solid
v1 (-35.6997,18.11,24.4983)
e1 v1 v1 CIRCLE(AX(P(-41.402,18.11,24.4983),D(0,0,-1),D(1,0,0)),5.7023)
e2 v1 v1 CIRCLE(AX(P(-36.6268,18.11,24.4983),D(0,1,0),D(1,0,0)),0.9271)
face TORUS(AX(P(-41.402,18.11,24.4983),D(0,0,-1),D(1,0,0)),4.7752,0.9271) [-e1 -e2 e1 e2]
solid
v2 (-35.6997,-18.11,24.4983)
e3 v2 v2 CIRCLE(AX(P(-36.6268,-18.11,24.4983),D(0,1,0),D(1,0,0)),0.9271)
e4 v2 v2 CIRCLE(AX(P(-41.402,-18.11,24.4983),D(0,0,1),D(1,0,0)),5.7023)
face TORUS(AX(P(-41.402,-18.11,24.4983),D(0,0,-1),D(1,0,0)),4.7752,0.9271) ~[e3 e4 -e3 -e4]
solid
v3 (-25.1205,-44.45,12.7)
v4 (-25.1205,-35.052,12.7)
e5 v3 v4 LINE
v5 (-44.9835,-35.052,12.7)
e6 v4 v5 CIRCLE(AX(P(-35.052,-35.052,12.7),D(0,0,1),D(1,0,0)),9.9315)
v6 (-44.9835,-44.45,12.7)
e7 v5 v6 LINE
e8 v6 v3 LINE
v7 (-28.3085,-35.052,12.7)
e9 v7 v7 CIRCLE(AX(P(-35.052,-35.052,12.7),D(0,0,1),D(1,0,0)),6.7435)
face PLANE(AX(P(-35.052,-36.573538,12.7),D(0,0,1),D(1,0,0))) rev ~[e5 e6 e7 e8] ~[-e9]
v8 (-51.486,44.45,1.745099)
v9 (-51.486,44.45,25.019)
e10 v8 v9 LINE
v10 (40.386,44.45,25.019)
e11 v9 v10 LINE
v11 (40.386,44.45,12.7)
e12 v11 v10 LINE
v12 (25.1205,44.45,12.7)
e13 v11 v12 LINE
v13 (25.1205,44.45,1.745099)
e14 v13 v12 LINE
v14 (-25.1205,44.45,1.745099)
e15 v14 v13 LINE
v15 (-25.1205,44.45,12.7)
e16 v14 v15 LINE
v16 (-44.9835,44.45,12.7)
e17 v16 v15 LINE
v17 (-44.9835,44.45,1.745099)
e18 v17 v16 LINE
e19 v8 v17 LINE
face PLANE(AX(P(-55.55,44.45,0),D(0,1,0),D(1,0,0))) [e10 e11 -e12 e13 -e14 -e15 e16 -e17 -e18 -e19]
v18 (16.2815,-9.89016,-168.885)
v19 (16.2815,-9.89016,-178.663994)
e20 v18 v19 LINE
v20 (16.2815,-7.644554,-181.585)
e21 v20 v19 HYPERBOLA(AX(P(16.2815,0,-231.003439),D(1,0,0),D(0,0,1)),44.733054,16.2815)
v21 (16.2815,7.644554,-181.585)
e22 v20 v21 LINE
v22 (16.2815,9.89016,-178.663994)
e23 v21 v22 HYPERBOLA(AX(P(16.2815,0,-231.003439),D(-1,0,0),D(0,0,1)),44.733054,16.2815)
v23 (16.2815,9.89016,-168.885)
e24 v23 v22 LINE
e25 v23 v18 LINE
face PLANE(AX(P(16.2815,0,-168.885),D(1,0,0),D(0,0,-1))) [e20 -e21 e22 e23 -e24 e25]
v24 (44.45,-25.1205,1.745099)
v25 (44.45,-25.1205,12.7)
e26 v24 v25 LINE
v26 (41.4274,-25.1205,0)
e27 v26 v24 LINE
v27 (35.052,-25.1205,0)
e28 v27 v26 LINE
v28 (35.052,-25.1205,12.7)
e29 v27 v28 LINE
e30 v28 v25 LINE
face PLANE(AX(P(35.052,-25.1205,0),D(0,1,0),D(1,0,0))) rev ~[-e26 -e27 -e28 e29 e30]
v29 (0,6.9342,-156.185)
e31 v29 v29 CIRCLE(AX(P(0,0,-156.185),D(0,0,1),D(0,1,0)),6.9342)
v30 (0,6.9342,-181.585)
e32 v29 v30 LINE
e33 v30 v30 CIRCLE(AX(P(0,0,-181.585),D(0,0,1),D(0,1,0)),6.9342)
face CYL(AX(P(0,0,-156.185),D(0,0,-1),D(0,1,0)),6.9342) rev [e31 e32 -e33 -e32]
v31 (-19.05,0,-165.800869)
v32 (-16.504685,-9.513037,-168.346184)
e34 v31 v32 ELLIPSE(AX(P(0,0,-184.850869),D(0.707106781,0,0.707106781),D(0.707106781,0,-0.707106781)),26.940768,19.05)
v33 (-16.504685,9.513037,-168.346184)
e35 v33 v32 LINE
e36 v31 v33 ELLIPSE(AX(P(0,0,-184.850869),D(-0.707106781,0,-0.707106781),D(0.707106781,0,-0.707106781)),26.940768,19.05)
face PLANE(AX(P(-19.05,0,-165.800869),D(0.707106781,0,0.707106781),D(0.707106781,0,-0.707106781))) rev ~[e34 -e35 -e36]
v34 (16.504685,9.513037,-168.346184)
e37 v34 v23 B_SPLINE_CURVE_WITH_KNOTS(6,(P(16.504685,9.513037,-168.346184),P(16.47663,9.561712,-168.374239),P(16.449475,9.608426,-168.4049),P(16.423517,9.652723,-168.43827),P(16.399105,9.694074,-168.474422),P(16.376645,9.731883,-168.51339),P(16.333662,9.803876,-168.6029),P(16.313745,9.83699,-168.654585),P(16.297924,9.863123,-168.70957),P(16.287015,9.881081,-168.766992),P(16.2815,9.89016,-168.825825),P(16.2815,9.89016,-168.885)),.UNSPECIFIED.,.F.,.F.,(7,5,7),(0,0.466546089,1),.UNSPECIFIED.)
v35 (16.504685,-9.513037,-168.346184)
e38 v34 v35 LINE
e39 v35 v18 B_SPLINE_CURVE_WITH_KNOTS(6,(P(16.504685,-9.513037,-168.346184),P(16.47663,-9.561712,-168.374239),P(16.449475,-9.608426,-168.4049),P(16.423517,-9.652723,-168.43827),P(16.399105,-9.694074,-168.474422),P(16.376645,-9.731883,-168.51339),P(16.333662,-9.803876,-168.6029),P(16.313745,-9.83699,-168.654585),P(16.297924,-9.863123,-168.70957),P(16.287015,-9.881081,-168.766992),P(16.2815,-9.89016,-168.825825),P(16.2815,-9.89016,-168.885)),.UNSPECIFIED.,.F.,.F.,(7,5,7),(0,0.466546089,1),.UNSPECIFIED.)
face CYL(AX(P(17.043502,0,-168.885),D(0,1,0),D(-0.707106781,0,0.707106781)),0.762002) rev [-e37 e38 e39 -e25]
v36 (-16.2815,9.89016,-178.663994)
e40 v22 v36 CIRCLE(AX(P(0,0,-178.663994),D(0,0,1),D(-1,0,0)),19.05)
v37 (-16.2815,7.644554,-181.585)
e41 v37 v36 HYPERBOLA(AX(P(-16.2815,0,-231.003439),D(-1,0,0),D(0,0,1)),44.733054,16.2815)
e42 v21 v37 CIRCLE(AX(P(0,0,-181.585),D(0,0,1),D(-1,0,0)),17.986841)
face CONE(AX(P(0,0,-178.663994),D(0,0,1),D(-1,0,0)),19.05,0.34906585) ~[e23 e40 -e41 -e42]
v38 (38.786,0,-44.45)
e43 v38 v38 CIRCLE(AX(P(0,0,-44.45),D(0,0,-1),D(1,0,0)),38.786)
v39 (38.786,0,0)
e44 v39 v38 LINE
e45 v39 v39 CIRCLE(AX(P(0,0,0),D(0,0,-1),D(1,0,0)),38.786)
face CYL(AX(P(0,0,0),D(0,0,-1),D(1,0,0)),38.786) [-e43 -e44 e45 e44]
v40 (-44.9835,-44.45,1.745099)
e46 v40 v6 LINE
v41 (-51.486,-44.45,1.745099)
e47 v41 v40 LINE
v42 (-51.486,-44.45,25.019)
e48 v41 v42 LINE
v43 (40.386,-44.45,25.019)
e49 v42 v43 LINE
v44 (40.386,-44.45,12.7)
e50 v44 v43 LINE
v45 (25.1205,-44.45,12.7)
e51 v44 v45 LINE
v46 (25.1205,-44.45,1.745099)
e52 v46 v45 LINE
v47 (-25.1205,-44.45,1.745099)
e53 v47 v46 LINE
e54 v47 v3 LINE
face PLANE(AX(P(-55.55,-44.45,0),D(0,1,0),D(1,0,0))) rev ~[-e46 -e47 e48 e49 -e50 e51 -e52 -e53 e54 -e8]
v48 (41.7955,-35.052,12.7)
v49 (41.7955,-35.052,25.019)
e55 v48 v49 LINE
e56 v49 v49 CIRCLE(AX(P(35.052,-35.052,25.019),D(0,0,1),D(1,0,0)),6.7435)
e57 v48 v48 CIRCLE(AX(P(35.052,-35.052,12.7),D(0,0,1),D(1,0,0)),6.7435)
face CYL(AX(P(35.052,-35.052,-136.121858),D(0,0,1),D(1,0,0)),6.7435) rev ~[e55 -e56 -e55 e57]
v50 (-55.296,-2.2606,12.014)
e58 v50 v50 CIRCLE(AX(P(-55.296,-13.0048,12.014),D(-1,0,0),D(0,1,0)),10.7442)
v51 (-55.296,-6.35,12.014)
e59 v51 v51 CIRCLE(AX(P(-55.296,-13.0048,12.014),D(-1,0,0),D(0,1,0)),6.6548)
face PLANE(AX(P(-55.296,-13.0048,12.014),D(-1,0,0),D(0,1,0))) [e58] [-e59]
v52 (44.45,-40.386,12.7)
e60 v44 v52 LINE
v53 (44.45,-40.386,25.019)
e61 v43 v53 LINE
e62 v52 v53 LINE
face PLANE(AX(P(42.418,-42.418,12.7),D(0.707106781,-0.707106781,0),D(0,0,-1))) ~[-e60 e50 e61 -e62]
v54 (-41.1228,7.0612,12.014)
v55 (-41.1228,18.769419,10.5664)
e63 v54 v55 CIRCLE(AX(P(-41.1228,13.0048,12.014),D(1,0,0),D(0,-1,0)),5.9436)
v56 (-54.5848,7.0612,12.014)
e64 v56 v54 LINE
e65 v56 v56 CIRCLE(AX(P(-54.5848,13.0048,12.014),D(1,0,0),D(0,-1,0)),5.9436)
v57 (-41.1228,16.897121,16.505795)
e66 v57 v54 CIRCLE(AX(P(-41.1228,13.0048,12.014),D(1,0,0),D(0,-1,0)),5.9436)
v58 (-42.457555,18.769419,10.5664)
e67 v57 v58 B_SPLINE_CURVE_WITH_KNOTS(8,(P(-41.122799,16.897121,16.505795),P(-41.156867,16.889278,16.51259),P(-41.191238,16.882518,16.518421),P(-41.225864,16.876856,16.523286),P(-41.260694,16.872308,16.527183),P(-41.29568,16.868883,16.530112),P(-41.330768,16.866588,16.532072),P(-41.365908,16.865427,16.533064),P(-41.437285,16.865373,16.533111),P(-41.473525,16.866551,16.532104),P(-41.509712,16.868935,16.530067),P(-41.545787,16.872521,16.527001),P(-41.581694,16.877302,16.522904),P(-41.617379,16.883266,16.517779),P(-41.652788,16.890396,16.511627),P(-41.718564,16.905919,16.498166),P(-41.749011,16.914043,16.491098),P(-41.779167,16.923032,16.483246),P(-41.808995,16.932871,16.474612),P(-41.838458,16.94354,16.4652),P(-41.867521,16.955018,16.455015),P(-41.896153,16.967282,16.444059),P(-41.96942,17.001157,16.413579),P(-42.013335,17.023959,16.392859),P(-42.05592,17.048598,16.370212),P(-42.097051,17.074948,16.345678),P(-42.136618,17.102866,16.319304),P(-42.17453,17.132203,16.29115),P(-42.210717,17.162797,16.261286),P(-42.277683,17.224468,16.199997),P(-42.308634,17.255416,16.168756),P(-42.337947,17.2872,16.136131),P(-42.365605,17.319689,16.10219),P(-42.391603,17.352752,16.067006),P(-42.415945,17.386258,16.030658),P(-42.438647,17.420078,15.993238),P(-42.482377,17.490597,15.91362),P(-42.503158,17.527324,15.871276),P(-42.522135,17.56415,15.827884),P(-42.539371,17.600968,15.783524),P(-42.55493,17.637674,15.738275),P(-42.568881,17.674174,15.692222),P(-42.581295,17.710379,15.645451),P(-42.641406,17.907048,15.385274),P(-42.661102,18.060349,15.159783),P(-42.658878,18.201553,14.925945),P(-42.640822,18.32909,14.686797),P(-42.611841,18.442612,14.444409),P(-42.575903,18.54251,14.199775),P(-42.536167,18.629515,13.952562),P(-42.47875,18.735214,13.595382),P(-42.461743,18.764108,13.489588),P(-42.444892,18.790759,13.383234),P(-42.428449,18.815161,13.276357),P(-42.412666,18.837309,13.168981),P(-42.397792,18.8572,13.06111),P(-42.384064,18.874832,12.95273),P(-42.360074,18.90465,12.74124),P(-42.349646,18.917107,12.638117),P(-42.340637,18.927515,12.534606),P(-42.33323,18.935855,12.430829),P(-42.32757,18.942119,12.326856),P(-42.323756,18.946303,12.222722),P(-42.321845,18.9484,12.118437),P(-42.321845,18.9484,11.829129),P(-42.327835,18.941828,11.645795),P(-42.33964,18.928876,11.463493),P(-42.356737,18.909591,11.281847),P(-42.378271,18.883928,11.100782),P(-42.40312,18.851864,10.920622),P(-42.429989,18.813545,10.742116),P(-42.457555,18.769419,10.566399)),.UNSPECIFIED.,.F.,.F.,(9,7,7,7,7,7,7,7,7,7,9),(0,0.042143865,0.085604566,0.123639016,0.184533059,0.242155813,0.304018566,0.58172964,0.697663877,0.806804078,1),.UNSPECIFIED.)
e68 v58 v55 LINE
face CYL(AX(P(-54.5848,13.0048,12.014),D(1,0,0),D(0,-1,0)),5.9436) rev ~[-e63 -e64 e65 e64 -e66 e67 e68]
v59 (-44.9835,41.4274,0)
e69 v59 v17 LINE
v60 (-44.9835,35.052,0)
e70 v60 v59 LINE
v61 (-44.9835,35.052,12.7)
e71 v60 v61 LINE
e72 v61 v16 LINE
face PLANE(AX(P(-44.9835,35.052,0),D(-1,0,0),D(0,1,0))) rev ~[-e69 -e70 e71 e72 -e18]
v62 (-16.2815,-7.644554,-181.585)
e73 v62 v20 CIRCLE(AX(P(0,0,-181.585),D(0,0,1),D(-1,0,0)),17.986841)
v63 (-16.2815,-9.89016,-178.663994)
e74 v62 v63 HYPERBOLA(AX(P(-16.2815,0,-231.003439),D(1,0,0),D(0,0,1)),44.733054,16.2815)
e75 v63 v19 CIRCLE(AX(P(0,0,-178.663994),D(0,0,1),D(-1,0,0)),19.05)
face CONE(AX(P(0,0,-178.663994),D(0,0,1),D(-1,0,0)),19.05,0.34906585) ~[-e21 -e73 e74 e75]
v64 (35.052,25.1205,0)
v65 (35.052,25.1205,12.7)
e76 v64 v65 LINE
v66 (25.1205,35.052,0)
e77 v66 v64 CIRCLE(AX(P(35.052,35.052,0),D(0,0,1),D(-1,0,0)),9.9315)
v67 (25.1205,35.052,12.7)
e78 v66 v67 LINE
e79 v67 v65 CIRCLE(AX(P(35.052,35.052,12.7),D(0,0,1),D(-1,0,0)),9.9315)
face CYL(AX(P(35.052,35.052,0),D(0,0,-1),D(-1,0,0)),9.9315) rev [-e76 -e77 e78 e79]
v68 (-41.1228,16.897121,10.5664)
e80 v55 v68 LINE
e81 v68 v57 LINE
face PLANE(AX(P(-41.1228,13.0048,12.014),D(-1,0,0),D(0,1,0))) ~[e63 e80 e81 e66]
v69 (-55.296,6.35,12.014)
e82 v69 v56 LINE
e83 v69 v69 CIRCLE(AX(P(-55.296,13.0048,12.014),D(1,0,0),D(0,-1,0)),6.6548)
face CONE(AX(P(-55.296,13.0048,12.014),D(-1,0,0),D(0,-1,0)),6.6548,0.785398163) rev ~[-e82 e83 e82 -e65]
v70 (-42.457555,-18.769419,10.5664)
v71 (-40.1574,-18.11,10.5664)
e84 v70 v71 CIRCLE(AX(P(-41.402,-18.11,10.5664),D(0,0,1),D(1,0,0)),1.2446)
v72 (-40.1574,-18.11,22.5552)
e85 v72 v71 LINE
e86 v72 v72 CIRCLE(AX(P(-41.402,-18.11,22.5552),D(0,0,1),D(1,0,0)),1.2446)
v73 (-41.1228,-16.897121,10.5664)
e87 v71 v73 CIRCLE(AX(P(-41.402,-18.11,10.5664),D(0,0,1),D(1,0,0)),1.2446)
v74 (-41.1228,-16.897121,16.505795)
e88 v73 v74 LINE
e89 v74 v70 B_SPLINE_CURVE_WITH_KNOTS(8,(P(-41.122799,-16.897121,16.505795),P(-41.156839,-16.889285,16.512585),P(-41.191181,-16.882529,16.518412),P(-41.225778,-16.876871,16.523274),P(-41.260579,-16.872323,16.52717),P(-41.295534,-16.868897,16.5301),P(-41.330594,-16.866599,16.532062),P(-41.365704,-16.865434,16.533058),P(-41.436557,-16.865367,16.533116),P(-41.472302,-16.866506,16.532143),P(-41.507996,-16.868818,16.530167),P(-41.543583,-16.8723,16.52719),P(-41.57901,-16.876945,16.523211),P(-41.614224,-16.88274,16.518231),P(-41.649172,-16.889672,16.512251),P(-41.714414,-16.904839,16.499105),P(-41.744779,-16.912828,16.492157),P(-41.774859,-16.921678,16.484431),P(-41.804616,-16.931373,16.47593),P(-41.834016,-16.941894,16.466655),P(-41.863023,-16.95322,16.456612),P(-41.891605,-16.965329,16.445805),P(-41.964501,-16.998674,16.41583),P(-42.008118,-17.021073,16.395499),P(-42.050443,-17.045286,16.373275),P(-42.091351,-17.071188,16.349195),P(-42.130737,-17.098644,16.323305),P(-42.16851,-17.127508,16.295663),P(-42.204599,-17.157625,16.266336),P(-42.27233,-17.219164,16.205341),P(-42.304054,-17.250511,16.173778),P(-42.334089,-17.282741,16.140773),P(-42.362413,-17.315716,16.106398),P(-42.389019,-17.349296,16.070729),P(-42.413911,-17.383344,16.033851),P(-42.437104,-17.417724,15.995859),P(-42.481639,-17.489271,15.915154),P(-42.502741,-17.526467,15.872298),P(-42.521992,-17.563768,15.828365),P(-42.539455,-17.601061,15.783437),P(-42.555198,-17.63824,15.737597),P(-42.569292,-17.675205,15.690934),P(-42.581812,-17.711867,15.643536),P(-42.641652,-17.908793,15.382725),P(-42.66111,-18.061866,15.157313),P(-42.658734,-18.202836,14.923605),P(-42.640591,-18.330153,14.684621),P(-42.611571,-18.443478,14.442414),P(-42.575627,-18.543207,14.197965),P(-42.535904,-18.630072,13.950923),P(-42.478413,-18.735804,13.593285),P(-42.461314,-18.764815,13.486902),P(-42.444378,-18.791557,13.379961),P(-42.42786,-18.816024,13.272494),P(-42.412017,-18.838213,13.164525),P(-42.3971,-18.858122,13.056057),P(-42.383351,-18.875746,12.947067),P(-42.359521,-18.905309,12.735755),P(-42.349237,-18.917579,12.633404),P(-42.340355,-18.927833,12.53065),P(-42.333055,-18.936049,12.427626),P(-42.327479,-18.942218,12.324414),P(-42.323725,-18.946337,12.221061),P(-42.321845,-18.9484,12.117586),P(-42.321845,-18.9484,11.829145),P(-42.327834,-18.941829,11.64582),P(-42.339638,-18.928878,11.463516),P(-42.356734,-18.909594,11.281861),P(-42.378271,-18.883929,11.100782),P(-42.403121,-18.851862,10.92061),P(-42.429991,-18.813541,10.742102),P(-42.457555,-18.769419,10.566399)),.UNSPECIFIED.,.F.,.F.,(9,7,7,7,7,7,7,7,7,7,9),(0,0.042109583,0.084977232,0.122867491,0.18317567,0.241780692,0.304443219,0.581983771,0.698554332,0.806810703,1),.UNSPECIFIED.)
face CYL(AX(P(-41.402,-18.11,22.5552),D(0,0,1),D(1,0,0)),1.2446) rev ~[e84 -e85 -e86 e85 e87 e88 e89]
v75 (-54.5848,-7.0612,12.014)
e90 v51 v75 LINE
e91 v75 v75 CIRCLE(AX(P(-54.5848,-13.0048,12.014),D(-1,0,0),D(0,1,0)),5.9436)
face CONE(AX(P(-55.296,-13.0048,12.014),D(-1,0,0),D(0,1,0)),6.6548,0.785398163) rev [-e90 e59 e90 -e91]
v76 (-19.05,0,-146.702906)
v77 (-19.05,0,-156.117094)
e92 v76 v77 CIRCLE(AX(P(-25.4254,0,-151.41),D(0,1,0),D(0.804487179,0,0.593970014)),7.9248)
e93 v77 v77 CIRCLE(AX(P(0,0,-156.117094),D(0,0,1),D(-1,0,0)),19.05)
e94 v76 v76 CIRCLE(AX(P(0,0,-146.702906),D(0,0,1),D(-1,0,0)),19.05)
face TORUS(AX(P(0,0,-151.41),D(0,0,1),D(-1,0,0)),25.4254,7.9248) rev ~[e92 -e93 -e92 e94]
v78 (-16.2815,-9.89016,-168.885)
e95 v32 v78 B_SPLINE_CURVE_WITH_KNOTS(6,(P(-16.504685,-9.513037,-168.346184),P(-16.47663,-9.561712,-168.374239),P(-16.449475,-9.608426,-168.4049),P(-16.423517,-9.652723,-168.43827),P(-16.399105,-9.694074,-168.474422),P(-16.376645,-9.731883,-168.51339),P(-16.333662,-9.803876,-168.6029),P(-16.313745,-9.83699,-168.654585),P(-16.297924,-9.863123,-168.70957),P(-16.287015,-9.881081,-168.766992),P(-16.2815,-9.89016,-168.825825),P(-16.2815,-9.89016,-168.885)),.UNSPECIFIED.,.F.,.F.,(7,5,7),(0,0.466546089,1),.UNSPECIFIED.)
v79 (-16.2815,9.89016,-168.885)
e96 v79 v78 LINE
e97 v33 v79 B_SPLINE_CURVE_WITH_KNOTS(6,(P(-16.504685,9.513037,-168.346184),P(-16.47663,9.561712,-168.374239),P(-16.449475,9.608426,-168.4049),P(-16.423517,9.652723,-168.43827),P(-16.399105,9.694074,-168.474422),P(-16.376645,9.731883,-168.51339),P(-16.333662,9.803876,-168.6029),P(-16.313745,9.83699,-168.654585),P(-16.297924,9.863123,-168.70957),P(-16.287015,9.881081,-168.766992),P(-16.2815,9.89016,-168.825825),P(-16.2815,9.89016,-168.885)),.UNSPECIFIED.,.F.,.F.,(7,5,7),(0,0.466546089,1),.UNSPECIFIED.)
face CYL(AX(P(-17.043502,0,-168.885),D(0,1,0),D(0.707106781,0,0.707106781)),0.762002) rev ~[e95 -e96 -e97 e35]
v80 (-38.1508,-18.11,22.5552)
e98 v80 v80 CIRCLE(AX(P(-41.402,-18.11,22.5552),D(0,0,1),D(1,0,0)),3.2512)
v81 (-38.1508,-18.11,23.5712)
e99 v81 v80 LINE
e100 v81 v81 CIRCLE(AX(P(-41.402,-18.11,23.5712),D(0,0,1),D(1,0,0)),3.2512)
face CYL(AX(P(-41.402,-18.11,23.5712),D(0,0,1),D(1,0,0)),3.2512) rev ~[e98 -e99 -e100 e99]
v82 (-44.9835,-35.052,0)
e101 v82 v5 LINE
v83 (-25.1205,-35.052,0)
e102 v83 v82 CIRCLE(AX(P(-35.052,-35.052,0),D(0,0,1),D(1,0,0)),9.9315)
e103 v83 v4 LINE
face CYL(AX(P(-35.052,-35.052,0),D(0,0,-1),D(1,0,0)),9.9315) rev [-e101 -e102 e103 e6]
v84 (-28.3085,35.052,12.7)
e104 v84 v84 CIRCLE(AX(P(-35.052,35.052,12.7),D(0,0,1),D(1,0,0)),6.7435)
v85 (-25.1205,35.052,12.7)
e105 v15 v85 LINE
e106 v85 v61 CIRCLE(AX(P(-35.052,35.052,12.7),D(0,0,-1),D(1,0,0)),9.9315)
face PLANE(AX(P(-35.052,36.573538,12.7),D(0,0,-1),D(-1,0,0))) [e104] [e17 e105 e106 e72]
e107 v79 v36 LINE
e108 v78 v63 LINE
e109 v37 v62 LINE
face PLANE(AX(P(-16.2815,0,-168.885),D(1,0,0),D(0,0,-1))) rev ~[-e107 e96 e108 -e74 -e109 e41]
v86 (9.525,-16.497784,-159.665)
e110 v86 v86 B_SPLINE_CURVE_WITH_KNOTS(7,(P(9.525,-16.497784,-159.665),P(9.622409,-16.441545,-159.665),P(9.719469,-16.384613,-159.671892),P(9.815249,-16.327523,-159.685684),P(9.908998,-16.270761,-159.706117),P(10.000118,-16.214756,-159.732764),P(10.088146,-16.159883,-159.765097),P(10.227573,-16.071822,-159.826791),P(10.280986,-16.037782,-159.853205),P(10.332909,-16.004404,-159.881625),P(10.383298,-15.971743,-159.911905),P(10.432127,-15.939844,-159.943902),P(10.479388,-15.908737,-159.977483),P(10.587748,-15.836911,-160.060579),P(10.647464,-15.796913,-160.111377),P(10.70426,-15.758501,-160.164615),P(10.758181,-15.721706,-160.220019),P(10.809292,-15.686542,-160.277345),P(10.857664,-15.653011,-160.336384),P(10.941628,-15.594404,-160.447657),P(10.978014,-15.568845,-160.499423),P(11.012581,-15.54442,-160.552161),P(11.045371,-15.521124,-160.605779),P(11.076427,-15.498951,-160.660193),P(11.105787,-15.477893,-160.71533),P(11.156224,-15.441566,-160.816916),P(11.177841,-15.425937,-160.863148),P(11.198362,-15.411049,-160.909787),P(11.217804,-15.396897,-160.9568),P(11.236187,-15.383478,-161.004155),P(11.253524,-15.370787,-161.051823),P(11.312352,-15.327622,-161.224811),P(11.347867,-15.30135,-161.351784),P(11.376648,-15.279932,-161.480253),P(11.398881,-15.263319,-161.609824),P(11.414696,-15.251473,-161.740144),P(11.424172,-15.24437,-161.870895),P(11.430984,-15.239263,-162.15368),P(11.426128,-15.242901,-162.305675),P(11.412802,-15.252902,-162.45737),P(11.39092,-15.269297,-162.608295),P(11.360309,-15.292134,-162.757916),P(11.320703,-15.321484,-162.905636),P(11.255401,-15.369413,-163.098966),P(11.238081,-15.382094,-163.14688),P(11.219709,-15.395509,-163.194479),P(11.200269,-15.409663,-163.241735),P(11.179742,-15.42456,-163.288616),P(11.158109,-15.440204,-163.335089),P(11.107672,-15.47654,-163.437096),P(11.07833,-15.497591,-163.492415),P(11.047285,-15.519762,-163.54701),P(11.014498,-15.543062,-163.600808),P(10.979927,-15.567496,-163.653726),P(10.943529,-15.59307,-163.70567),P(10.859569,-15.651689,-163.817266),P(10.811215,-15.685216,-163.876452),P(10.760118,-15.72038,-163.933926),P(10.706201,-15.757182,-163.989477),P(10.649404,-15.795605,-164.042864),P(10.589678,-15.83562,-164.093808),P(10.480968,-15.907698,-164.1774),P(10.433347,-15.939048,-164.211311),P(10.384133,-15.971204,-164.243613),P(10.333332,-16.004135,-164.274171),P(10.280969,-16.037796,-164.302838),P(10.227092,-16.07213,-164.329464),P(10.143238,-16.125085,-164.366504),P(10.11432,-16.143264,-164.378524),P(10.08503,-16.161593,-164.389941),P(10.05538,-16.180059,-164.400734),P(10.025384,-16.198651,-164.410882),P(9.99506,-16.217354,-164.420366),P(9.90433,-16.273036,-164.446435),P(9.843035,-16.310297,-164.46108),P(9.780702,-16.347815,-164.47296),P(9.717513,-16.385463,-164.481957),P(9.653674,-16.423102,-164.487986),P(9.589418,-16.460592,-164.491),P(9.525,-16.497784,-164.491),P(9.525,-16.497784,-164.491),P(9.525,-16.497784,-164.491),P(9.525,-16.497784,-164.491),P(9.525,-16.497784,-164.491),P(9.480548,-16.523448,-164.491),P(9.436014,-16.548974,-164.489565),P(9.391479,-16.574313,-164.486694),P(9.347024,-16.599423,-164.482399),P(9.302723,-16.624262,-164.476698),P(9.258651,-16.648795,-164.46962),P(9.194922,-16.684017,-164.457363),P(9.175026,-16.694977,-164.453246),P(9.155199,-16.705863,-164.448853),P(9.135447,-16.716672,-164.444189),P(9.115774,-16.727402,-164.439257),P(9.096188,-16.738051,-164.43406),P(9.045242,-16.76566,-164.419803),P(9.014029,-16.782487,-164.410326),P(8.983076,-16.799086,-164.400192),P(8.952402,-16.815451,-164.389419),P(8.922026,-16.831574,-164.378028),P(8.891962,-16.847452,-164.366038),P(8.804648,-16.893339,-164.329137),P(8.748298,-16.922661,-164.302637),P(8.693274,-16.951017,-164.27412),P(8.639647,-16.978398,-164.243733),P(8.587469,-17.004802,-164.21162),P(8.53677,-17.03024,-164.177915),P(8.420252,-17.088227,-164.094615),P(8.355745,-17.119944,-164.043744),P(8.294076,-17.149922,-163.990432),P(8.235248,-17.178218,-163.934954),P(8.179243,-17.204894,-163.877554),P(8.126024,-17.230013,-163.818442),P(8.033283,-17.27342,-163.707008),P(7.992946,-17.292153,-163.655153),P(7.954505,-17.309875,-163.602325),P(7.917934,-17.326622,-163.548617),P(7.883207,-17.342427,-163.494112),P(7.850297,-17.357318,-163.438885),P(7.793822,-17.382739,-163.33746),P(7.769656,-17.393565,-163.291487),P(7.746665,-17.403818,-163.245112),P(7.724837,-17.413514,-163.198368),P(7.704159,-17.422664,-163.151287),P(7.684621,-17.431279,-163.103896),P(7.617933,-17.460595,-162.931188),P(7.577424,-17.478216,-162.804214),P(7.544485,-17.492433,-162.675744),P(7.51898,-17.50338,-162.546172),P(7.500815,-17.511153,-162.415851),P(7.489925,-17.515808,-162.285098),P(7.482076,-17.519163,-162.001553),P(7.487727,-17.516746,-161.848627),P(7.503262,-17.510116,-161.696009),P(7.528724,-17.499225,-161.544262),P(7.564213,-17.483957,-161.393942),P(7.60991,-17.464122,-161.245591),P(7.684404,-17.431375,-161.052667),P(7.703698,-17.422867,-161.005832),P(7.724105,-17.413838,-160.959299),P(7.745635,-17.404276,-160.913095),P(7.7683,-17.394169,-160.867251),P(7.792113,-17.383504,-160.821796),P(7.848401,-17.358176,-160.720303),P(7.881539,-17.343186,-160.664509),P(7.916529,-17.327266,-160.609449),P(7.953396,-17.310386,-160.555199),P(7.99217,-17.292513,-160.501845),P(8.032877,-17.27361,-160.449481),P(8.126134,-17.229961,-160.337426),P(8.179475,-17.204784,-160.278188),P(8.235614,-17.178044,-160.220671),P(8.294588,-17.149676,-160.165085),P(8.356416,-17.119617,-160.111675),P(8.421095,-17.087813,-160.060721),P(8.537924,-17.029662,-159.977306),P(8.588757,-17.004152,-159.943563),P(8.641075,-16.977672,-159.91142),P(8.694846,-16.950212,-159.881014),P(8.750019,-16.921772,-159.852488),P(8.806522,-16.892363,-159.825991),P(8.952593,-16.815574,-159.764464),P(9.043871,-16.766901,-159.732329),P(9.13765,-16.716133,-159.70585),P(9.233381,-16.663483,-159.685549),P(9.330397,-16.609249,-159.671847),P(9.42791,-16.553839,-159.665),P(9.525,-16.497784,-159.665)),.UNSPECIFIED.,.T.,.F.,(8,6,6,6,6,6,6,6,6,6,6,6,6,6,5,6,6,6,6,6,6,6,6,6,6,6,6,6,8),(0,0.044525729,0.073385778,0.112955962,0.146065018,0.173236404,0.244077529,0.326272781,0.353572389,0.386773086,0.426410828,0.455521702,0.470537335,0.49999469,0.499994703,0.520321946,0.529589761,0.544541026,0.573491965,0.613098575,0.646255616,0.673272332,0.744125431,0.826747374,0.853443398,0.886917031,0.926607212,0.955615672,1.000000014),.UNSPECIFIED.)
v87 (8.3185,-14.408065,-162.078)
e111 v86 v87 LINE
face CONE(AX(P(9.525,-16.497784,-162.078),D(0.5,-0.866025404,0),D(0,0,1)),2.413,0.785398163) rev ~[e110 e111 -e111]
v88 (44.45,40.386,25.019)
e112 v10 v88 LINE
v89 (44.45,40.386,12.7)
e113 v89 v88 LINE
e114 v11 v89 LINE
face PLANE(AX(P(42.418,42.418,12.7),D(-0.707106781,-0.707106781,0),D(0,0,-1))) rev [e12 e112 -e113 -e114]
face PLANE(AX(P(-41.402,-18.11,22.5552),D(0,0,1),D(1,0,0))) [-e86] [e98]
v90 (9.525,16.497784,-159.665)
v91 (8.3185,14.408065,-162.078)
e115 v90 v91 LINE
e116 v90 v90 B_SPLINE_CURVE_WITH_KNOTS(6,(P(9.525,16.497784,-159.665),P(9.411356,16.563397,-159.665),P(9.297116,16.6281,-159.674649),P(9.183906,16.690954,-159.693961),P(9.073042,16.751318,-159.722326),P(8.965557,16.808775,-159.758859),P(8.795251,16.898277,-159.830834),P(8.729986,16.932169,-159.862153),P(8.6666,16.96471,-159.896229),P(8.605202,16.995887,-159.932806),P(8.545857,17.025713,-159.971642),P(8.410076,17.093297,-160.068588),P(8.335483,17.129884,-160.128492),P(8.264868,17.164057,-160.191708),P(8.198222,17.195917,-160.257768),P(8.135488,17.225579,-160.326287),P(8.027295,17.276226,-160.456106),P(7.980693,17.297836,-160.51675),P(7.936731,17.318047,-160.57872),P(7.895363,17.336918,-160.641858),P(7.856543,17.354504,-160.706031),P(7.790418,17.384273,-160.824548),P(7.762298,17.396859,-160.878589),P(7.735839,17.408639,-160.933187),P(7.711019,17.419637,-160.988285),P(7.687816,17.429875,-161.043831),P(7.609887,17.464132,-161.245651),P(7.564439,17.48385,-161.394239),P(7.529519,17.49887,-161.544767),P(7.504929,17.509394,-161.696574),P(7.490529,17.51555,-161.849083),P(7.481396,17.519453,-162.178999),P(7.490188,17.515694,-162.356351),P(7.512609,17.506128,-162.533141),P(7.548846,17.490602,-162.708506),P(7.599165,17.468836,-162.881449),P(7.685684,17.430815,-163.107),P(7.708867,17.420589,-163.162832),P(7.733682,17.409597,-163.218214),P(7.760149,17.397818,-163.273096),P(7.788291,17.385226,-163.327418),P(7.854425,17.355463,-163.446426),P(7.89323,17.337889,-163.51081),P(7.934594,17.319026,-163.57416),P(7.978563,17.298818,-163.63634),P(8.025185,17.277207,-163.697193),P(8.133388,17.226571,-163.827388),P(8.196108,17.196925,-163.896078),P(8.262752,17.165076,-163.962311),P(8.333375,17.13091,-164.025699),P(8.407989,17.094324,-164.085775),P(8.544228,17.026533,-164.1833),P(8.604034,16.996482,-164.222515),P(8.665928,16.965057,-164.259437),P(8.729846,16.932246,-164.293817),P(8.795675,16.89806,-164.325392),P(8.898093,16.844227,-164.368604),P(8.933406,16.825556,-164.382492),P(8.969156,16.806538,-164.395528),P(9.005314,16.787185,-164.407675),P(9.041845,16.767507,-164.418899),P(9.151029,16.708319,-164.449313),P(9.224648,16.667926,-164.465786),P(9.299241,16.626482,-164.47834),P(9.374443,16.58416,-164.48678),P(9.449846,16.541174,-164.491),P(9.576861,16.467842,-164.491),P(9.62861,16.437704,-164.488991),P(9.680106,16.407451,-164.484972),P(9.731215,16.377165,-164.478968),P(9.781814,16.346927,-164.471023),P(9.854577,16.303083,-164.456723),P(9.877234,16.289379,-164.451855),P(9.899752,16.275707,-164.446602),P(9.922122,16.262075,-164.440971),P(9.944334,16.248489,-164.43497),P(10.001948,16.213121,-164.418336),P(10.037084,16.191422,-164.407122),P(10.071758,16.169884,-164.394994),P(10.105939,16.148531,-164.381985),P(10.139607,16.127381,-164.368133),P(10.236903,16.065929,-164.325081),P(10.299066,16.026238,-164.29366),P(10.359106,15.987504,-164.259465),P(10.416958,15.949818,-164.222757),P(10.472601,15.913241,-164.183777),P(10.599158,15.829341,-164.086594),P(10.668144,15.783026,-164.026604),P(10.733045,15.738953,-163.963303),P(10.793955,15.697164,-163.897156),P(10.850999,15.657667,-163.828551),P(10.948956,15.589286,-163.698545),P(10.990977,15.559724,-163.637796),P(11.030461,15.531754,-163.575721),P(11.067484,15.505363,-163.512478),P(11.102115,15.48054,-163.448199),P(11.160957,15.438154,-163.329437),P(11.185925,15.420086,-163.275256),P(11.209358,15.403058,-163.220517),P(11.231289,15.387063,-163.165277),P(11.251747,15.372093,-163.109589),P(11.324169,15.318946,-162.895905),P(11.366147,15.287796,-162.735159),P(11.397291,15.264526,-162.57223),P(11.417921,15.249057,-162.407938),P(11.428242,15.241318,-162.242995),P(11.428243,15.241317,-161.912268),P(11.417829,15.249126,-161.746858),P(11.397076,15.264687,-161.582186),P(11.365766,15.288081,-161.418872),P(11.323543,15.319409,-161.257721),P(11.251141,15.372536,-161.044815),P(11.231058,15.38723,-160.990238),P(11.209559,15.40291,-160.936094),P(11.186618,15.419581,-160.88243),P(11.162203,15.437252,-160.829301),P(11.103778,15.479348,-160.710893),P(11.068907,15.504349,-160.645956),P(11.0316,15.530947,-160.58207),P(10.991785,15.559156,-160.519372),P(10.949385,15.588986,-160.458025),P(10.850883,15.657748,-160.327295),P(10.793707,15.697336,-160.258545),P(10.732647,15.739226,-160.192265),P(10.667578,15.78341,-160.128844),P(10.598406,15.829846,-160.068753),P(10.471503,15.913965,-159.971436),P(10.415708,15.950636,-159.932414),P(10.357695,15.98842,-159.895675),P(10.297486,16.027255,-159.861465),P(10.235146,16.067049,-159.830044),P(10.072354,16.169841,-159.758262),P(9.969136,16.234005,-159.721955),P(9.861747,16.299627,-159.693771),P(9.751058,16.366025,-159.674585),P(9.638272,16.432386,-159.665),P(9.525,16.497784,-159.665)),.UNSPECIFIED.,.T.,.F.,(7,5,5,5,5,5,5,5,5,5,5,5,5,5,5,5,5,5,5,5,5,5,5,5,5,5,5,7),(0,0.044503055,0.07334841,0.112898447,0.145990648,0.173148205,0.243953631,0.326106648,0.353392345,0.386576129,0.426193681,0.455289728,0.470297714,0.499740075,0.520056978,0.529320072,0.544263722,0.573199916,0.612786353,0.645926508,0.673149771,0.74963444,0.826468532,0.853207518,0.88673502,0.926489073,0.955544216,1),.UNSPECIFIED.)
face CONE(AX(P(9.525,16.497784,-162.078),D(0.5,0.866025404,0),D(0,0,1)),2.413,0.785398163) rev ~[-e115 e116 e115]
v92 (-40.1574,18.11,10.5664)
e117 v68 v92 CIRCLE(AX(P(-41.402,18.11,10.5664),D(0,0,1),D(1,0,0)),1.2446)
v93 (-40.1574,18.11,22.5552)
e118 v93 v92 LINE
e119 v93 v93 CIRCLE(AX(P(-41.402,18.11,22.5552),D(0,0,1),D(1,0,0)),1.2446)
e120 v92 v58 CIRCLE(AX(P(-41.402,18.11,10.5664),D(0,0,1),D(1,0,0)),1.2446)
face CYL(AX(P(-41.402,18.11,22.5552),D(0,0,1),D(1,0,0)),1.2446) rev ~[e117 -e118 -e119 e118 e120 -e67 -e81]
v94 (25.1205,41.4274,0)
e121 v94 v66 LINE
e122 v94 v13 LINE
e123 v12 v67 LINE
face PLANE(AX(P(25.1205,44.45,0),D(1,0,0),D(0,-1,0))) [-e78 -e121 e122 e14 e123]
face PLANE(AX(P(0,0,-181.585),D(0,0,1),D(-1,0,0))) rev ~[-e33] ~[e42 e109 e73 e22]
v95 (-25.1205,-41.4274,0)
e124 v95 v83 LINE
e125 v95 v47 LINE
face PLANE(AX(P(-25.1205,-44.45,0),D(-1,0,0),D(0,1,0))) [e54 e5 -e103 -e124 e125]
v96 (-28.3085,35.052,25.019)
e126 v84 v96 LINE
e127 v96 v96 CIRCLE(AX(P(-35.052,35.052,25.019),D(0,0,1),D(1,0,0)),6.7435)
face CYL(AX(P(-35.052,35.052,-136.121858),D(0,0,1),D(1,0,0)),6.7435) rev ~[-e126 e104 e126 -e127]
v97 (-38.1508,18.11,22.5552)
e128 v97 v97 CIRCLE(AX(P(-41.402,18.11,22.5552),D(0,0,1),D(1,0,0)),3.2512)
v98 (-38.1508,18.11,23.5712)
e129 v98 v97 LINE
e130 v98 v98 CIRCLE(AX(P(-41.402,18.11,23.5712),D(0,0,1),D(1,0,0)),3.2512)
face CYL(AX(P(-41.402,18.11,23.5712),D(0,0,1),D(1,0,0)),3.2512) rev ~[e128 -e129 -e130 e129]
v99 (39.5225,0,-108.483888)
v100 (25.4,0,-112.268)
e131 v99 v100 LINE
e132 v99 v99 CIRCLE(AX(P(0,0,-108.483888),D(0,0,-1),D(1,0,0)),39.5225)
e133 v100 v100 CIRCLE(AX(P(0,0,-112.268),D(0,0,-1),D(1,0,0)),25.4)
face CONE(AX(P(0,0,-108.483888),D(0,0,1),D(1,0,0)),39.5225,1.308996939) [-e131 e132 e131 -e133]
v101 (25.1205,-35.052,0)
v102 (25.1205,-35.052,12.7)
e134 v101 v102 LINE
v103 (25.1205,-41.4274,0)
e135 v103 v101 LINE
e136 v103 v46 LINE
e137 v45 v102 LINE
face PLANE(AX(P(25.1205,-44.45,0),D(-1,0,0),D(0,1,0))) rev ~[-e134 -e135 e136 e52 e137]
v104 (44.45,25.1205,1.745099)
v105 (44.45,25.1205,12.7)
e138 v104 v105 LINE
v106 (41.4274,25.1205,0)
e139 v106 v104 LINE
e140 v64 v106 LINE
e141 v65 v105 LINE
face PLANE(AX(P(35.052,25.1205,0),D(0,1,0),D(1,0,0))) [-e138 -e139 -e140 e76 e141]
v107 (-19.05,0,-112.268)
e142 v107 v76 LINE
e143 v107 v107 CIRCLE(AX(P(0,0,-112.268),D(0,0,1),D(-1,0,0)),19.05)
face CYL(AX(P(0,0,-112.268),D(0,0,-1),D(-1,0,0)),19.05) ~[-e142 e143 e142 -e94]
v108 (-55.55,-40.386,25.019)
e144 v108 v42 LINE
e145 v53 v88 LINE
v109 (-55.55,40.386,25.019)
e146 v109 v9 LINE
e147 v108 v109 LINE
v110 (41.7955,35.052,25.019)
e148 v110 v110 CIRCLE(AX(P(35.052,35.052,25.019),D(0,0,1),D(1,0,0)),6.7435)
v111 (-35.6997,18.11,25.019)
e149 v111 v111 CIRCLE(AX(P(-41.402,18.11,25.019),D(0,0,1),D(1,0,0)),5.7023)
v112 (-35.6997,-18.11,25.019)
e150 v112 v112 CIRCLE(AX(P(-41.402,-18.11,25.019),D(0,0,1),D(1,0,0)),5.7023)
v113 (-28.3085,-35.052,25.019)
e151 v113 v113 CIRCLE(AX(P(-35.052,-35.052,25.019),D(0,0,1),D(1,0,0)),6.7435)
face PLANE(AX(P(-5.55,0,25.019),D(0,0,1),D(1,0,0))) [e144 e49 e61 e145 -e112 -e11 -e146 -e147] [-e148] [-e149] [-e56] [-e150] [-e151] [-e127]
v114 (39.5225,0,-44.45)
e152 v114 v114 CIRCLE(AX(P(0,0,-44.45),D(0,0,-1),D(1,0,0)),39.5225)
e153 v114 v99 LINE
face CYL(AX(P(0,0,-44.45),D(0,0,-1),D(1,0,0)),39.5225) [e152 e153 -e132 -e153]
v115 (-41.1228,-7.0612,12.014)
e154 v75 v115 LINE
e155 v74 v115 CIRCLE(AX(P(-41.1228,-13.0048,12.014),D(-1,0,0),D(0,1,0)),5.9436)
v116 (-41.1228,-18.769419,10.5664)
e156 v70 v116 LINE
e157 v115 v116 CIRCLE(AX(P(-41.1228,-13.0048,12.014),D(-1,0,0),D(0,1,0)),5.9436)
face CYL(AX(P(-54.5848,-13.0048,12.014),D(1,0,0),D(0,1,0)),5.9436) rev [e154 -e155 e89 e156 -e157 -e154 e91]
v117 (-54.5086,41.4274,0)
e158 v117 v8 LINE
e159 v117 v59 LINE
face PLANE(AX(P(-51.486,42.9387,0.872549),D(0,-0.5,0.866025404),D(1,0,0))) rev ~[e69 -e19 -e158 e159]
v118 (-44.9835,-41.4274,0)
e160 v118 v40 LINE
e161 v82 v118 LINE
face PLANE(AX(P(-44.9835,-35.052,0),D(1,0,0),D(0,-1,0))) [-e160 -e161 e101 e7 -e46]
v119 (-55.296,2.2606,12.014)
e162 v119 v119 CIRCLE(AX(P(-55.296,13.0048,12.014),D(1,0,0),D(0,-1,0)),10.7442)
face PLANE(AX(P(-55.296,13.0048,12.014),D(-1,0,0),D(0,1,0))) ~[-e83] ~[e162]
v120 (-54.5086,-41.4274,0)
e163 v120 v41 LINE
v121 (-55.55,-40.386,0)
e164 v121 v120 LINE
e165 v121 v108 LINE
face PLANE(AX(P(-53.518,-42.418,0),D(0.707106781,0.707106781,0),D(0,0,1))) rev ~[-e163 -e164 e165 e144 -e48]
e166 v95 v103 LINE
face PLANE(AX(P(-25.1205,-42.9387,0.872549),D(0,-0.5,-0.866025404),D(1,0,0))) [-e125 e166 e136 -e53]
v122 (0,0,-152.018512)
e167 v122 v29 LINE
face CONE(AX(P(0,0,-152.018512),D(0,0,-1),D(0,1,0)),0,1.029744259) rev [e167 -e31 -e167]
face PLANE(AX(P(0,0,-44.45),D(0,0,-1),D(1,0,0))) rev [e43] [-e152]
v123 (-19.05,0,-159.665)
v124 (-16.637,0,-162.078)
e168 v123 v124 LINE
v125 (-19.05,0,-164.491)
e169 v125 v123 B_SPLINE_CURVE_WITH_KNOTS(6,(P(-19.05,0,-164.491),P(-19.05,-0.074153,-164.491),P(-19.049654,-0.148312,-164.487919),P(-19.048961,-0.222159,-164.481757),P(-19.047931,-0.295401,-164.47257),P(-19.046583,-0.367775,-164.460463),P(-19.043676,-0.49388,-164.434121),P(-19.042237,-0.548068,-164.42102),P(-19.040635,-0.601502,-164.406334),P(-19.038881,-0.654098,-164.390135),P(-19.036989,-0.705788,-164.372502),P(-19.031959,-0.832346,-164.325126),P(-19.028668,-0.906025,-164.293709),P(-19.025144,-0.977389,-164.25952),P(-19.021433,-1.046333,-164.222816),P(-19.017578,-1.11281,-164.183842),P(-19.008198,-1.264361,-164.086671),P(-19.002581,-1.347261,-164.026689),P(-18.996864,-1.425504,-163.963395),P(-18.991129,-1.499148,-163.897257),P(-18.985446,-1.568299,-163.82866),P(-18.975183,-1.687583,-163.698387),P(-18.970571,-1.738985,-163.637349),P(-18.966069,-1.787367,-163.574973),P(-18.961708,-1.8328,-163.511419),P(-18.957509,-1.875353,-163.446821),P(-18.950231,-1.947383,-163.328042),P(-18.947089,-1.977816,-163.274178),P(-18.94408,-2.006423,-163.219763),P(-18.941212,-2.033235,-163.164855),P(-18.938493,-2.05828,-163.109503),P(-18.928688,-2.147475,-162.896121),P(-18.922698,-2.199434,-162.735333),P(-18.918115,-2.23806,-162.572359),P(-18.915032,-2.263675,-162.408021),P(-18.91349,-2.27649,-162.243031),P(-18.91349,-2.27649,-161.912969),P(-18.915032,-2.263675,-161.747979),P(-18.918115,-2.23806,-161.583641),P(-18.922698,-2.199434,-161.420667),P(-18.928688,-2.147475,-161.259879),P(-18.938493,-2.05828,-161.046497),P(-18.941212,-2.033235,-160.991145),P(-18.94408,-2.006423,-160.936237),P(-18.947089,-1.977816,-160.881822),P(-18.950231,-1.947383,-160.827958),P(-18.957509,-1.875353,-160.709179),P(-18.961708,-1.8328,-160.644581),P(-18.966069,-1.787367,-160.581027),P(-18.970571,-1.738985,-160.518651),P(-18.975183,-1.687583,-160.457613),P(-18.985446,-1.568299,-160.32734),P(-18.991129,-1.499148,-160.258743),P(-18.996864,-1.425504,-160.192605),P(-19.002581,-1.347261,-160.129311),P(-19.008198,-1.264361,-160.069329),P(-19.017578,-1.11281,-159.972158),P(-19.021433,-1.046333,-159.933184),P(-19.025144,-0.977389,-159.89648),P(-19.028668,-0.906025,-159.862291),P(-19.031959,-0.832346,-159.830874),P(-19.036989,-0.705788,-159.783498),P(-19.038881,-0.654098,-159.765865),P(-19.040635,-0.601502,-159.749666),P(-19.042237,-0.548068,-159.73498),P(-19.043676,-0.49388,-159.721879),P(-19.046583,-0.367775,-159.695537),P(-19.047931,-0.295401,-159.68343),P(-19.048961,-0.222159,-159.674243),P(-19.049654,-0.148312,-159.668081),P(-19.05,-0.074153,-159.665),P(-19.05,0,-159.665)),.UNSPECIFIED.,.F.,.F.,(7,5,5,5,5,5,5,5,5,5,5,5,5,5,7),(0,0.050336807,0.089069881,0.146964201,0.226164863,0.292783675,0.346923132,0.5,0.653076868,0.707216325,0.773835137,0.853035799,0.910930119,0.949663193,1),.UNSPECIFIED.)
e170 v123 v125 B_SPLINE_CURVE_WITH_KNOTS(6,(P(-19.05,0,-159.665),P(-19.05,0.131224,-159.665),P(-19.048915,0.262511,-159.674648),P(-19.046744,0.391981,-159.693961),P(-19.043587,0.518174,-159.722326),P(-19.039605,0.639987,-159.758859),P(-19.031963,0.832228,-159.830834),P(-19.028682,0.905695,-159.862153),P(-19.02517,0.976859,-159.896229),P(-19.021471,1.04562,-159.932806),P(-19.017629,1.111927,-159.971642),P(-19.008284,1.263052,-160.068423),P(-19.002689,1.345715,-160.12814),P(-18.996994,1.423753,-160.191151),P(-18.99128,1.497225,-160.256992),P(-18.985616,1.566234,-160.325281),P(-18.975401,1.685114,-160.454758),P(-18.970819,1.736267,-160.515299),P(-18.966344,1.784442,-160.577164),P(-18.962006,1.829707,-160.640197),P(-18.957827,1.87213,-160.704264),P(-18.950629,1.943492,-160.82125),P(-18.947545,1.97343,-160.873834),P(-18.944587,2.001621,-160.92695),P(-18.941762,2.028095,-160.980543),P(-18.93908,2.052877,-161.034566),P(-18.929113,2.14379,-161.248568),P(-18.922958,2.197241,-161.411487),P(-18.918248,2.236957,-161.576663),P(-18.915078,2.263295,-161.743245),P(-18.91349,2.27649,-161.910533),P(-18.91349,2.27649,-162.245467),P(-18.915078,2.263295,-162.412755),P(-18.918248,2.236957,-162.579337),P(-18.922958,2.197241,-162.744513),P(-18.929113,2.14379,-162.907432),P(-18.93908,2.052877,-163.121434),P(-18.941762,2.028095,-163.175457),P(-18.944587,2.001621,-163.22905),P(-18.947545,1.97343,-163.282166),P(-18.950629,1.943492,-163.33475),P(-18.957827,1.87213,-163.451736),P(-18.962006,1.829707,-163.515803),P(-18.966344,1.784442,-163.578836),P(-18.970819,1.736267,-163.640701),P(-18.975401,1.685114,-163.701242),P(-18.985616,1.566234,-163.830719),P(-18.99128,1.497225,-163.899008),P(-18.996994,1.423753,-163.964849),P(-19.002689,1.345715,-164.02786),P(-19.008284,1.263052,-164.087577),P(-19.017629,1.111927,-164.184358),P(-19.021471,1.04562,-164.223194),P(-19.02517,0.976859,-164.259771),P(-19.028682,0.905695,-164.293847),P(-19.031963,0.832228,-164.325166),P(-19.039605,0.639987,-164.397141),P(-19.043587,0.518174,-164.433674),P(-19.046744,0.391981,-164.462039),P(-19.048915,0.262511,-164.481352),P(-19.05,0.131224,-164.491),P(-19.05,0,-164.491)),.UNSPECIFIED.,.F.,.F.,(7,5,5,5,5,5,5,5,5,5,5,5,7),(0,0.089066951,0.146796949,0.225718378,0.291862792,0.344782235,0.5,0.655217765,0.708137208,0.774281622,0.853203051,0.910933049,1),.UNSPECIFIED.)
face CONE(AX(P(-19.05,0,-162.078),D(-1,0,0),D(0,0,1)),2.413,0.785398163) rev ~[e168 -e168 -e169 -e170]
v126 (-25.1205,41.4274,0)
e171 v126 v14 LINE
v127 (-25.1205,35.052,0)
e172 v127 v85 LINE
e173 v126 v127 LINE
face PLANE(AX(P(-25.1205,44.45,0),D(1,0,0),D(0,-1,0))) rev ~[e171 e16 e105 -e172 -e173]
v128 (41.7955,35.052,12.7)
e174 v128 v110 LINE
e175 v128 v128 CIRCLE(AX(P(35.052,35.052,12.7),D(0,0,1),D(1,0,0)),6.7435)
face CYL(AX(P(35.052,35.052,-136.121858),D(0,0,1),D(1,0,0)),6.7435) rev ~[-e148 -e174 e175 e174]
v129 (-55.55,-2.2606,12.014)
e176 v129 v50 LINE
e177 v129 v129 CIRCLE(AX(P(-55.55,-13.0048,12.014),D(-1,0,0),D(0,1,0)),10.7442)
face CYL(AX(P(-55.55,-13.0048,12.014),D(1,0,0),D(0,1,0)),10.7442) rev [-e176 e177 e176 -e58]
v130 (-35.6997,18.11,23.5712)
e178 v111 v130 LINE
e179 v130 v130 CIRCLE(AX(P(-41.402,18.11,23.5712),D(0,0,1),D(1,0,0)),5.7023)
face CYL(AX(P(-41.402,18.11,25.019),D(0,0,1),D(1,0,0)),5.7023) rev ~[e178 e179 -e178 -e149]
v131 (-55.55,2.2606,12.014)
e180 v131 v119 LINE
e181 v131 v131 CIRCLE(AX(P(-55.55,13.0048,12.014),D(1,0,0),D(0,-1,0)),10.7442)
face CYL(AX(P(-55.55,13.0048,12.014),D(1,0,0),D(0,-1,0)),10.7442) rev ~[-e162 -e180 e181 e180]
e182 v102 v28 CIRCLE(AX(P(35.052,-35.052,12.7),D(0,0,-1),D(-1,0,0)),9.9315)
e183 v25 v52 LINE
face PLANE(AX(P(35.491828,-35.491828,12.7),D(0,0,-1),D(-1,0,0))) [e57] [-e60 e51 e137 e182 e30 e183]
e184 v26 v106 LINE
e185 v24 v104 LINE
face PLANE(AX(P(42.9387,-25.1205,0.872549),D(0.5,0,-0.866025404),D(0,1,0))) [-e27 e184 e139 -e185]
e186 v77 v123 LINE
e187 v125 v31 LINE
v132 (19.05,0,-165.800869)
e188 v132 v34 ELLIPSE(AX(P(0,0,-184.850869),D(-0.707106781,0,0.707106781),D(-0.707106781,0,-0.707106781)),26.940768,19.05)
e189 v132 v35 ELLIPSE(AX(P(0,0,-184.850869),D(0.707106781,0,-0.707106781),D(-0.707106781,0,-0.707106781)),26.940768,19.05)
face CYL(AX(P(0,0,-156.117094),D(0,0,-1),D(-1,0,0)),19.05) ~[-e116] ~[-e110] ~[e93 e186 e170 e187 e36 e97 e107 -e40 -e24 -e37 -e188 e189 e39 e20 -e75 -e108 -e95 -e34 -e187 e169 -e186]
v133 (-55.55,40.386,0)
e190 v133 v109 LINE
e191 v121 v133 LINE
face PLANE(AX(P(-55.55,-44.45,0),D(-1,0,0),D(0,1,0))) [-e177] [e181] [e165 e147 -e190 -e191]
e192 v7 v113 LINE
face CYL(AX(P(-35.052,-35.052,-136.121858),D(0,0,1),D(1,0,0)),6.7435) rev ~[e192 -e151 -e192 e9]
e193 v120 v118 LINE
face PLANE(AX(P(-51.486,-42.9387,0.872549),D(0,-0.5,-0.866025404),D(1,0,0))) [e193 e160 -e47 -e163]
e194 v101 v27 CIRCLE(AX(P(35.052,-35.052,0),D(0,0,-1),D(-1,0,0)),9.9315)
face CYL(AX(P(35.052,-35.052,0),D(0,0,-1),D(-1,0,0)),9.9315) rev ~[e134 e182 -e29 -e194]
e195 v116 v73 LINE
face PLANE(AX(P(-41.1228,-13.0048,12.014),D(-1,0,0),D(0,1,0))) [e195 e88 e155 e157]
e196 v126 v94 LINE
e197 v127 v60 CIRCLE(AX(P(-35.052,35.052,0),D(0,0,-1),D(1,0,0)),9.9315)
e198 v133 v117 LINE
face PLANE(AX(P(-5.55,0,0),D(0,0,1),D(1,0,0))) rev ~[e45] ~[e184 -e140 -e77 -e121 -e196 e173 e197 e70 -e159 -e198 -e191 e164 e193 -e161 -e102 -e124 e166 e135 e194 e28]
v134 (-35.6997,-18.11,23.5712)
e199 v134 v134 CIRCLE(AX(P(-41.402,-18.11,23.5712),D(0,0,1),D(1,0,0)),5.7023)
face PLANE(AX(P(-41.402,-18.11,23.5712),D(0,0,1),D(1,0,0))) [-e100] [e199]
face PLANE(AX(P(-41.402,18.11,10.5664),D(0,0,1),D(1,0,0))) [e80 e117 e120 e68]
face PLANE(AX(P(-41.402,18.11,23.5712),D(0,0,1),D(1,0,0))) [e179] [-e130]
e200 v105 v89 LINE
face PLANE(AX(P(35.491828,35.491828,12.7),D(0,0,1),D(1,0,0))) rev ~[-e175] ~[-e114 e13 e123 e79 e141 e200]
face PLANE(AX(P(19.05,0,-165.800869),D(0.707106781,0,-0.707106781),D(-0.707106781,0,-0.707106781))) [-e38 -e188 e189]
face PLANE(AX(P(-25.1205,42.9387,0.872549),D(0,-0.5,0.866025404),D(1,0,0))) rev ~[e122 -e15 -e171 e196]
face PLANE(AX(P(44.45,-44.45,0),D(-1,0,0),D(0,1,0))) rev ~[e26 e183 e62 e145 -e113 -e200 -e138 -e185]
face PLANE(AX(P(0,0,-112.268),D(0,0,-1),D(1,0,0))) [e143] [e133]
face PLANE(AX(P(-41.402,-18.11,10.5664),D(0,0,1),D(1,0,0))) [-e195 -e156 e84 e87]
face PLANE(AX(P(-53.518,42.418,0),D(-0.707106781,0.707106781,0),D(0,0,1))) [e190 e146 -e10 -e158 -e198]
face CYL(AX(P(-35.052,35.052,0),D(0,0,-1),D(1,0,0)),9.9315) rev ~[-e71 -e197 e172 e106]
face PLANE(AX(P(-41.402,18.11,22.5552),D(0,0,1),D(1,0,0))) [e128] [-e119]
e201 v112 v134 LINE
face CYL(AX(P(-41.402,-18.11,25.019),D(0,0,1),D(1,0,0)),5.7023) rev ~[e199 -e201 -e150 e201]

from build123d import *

# Parameters (mm, degrees)
SKETCH1_W               = 100
SKETCH1_H               = 88.9
EXTRUDE1_DEPTH          = 25.019
HOLE1_D                 = 13.487
CUT_EXTRUDE2_DEPTH      = 12.7
SKETCH6_R               = 5.7023
CUT_EXTRUDE3_DEPTH      = 1.4478
SKETCH7_R               = 3.2512
CUT_EXTRUDE4_DEPTH      = 1.016
SKETCH8_R               = 1.2446
CUT_EXTRUDE5_DEPTH      = 11.9888
SKETCH9_R               = 0.9271
CHAMFER1_SIZE           = 4.064
CHAMFER2_SIZE           = 3.0226
CHAMFER2_SIZE2          = 1.745098924
CIRPATTERN1_COUNT       = 3
CUT_EXTRUDE8_DEPTH      = 45.45
CUT_EXTRUDE8_DEPTH_BACK = 45.45


with BuildPart() as part:
    # Sketch1 → Extrude1 (new body)
    with BuildSketch(Plane.XY):
        with Locations((-5.55, 0)):
            Rectangle(SKETCH1_W, SKETCH1_H)
    extrude(amount=EXTRUDE1_DEPTH)

    # Hole1 (through all)
    with Locations(Plane(origin=(0, 0, 0), x_dir=(-1, 0, 0), z_dir=(0, 0, -1))):
        with Locations((-35.052, -35.052), (-35.052, 35.052), (35.052, 35.052), (35.052, -35.052)):
            Hole(HOLE1_D / 2)

    # Sketch3 → Cut-Extrude2 (cut)
    with BuildSketch(Plane(origin=(0, 0, 0), x_dir=(-1, 0, 0), z_dir=(0, 0, -1))):
        with BuildLine():
            Line((-35.052, -25.1205), (-44.45, -25.1205))
            Line((-44.45, -25.1205), (-44.45, -44.45))
            Line((-44.45, -44.45), (-25.1205, -44.45))
            Line((-25.1205, -44.45), (-25.1205, -35.052))
            ThreePointArc((-25.1205, -35.052), (-28.029369003, -28.029369003), (-35.052, -25.1205))
        make_face()
        with BuildLine():
            Line((-44.45, 25.1205), (-44.45, 44.45))
            Line((-44.45, 44.45), (-25.1205, 44.45))
            Line((-25.1205, 44.45), (-25.1205, 35.052))
            ThreePointArc((-25.1205, 35.052), (-28.029369003, 28.029369003), (-35.052, 25.1205))
            Line((-35.052, 25.1205), (-44.45, 25.1205))
        make_face()
        with BuildLine():
            Line((25.1205, 44.45), (25.1205, 35.052))
            ThreePointArc((25.1205, 35.052), (35.052, 25.1205), (44.9835, 35.052))
            Line((44.9835, 35.052), (44.9835, 44.45))
            Line((44.9835, 44.45), (25.1205, 44.45))
        make_face()
        with BuildLine():
            Line((44.9835, -44.45), (25.1205, -44.45))
            Line((25.1205, -44.45), (25.1205, -35.052))
            ThreePointArc((25.1205, -35.052), (35.052, -25.1205), (44.9835, -35.052))
            Line((44.9835, -35.052), (44.9835, -44.45))
        make_face()
    extrude(amount=-CUT_EXTRUDE2_DEPTH, mode=Mode.SUBTRACT)

    # Sketch23 → Cut-Revolve5 (revolve, cut)
    with BuildSketch(Plane.XY.offset(12.014), mode=Mode.PRIVATE) as cut_revolve5_sk:
        Polygon((-55.55, -23.749), (-55.296, -23.749), (-55.296, -19.6596), (-54.5848, -18.9484), (-41.1228, -18.9484), (-41.1228, -13.0048), (-55.55, -13.0048), align=None)
    cut_revolve5 = revolve(cut_revolve5_sk.sketch.rotate(Axis((-11.939660979, -13.0048, 12.014), (-1, 0, 0)), 180), axis=Axis((-11.939660979, -13.0048, 12.014), (-1, 0, 0)), mode=Mode.SUBTRACT)  # turned: the seam where the file's is

    # Mirror1: Cut-Revolve5 across plane
    add(cut_revolve5.mirror(Plane.ZX), mode=Mode.SUBTRACT)

    # Sketch6 → Cut-Extrude3 (cut)
    with BuildSketch(Plane.XY.offset(25.019)):
        with Locations((-41.402, -18.11)):
            Circle(SKETCH6_R)
        with Locations((-41.402, 18.11)):
            Circle(SKETCH6_R)
    extrude(amount=-CUT_EXTRUDE3_DEPTH, mode=Mode.SUBTRACT)

    # Sketch7 → Cut-Extrude4 (cut)
    with BuildSketch(Plane.XY.offset(23.5712)):
        with Locations((-41.402, 18.11)):
            Circle(SKETCH7_R)
        with Locations((-41.402, -18.11)):
            Circle(SKETCH7_R)
    extrude(amount=-CUT_EXTRUDE4_DEPTH, mode=Mode.SUBTRACT)

    # Sketch8 → Cut-Extrude5 (cut)
    with BuildSketch(Plane.XY.offset(22.5552)):
        with Locations((-41.402, 18.11)):
            Circle(SKETCH8_R)
        with Locations((-41.402, -18.11)):
            Circle(SKETCH8_R)
    extrude(amount=-CUT_EXTRUDE5_DEPTH, mode=Mode.SUBTRACT)

    # Chamfer1
    chamfer1_edges = [part.edges().sort_by_distance(p)[0] for p in [
        (-55.55, 44.45, 12.5095),
        (44.45, 44.45, 18.8595),
        (44.45, -44.45, 18.8595),
        (-55.55, -44.45, 12.5095),
    ]]
    chamfer(chamfer1_edges, length=CHAMFER1_SIZE)

    # Chamfer2
    chamfer2_edges = [part.edges().sort_by_distance(p)[0] for p in [
        (-48.23475, -44.45, 0),
        (44.45, 0, 0),
        (0, 44.45, 0),
        (-48.23475, 44.45, 0),
        (0, -44.45, 0),
    ]]
    chamfer2_side = [part.faces().sort_by_distance(p)[0] for p in [
        (-6.590555374, 0, 0),
    ]]
    chamfer(chamfer2_edges, length=CHAMFER2_SIZE, length2=CHAMFER2_SIZE2, reference=chamfer2_side[0])

    # Sketch24 → Revolve4 (revolve)
    with BuildSketch(Plane(origin=(0, 0, 0), x_dir=(0, 0, -1), z_dir=(1, 0, 0)), mode=Mode.PRIVATE) as revolve4_sk:
        Polygon((0, 0), (0, 38.786), (44.45, 38.786), (44.45, 39.5225), (108.48388753, 39.5225), (112.268, 25.4), (112.268, 0), align=None)
    revolve(revolve4_sk.sketch.rotate(Axis((0, 0, 0), (0, 0, -1)), 90), axis=Axis((0, 0, 0), (0, 0, -1)))  # turned: the seam where the file's is

    # Sketch17 → Revolve3 (revolve)
    with BuildSketch(Plane(origin=(0, 0, 0), x_dir=(0, 0, -1), z_dir=(1, 0, 0)), mode=Mode.PRIVATE) as revolve3_sk:
        with BuildLine():
            Line((112.268, 0), (112.268, -19.05))
            Line((112.268, -19.05), (146.70290643, -19.05))
            ThreePointArc((146.70290643, -19.05), (151.41, -17.5006), (156.11709357, -19.05))
            Line((156.11709357, -19.05), (178.66399416, -19.05))
            Line((178.66399416, -19.05), (181.585, -17.98684082))
            Line((181.585, -17.98684082), (181.585, 0))
            Line((181.585, 0), (112.268, 0))
        make_face()
    revolve(revolve3_sk.sketch.rotate(Axis((0, 0, -130.8989), (0, 0, 1)), 270), axis=Axis((0, 0, -130.8989), (0, 0, 1)))  # turned: the seam where the file's is

    # Sketch28 → Cut-Revolve6 (revolve, cut)
    with BuildSketch(Plane(origin=(0, 0, 0), x_dir=(1, 0, 0), z_dir=(0, 1, 0)), mode=Mode.PRIVATE) as cut_revolve6_sk:
        Polygon((-19.05, 164.491), (-16.637, 162.078), (-19.05, 162.078), align=None)
    cut_revolve6 = revolve(cut_revolve6_sk.sketch.rotate(Axis((-34.306164512, 0, -162.078), (1, 0, 0)), 180), axis=Axis((-34.306164512, 0, -162.078), (1, 0, 0)), mode=Mode.SUBTRACT)  # turned: the seam where the file's is

    # CirPattern1: Cut-Revolve6 ×3 about axis
    cirpattern1_axis = Axis((0, 0, -130.8989), (0, 0, -1))
    for i in range(1, CIRPATTERN1_COUNT):
        add(cut_revolve6.rotate(cirpattern1_axis, i * 360 / CIRPATTERN1_COUNT), mode=Mode.SUBTRACT)

    # Sketch32 → Hole2 (revolve, cut)
    with BuildSketch(Plane(origin=(0, 0, -181.585), x_dir=(0, 1, 0), z_dir=(1, 0, 0))):
        Polygon((0, 0), (0, 29.566487704), (6.9342, 25.4), (6.9342, 0), align=None)
    revolve(axis=Axis((0, 0, -185.829199587), (0, 0, 1)), mode=Mode.SUBTRACT)

    # Sketch34 → Cut-Extrude8 (cut, two sides)
    with BuildSketch(Plane(origin=(0, 0, 0), x_dir=(0, 0, -1), z_dir=(0, 1, 0))) as cut_extrude8_sk:
        with BuildLine():
            Line((165.800868636, 19.05), (168.346183558, 16.504685078))
            ThreePointArc((168.346183558, 16.504685078), (168.593394643, 16.339503912), (168.885, 16.2815))
            Line((168.885, 16.2815), (181.585, 16.2815))
            Line((181.585, 16.2815), (181.585, 19.05))
            Line((181.585, 19.05), (165.800868636, 19.05))
        make_face()
        with BuildLine():
            Line((181.585, -19.05), (165.800868636, -19.05))
            Line((165.800868636, -19.05), (168.346183558, -16.504685078))
            ThreePointArc((168.346183558, -16.504685078), (168.593394643, -16.339503912), (168.885, -16.2815))
            Line((168.885, -16.2815), (181.585, -16.2815))
            Line((181.585, -16.2815), (181.585, -19.05))
        make_face()
    extrude(amount=CUT_EXTRUDE8_DEPTH, mode=Mode.SUBTRACT)
    extrude(cut_extrude8_sk.sketch, amount=-CUT_EXTRUDE8_DEPTH_BACK, mode=Mode.SUBTRACT)


with BuildPart() as body_2:
    # Sketch9 → Revolve1 (revolve)
    with BuildSketch(Plane(origin=(-41.656, 18.11, 23.5712), x_dir=(1, 0, 0), z_dir=(0, 1, 0))):
        with Locations((5.0292, -0.9271)):
            Circle(SKETCH9_R)
    revolve(axis=Axis((-41.402, 18.11, 25.51811), (0, 0, -1)))


with BuildPart() as body_3:
    # Mirror2: mirrored copy
    add(body_2.part.mirror(Plane.ZX))


solid = Compound([part.part, body_2.part, body_3.part])
